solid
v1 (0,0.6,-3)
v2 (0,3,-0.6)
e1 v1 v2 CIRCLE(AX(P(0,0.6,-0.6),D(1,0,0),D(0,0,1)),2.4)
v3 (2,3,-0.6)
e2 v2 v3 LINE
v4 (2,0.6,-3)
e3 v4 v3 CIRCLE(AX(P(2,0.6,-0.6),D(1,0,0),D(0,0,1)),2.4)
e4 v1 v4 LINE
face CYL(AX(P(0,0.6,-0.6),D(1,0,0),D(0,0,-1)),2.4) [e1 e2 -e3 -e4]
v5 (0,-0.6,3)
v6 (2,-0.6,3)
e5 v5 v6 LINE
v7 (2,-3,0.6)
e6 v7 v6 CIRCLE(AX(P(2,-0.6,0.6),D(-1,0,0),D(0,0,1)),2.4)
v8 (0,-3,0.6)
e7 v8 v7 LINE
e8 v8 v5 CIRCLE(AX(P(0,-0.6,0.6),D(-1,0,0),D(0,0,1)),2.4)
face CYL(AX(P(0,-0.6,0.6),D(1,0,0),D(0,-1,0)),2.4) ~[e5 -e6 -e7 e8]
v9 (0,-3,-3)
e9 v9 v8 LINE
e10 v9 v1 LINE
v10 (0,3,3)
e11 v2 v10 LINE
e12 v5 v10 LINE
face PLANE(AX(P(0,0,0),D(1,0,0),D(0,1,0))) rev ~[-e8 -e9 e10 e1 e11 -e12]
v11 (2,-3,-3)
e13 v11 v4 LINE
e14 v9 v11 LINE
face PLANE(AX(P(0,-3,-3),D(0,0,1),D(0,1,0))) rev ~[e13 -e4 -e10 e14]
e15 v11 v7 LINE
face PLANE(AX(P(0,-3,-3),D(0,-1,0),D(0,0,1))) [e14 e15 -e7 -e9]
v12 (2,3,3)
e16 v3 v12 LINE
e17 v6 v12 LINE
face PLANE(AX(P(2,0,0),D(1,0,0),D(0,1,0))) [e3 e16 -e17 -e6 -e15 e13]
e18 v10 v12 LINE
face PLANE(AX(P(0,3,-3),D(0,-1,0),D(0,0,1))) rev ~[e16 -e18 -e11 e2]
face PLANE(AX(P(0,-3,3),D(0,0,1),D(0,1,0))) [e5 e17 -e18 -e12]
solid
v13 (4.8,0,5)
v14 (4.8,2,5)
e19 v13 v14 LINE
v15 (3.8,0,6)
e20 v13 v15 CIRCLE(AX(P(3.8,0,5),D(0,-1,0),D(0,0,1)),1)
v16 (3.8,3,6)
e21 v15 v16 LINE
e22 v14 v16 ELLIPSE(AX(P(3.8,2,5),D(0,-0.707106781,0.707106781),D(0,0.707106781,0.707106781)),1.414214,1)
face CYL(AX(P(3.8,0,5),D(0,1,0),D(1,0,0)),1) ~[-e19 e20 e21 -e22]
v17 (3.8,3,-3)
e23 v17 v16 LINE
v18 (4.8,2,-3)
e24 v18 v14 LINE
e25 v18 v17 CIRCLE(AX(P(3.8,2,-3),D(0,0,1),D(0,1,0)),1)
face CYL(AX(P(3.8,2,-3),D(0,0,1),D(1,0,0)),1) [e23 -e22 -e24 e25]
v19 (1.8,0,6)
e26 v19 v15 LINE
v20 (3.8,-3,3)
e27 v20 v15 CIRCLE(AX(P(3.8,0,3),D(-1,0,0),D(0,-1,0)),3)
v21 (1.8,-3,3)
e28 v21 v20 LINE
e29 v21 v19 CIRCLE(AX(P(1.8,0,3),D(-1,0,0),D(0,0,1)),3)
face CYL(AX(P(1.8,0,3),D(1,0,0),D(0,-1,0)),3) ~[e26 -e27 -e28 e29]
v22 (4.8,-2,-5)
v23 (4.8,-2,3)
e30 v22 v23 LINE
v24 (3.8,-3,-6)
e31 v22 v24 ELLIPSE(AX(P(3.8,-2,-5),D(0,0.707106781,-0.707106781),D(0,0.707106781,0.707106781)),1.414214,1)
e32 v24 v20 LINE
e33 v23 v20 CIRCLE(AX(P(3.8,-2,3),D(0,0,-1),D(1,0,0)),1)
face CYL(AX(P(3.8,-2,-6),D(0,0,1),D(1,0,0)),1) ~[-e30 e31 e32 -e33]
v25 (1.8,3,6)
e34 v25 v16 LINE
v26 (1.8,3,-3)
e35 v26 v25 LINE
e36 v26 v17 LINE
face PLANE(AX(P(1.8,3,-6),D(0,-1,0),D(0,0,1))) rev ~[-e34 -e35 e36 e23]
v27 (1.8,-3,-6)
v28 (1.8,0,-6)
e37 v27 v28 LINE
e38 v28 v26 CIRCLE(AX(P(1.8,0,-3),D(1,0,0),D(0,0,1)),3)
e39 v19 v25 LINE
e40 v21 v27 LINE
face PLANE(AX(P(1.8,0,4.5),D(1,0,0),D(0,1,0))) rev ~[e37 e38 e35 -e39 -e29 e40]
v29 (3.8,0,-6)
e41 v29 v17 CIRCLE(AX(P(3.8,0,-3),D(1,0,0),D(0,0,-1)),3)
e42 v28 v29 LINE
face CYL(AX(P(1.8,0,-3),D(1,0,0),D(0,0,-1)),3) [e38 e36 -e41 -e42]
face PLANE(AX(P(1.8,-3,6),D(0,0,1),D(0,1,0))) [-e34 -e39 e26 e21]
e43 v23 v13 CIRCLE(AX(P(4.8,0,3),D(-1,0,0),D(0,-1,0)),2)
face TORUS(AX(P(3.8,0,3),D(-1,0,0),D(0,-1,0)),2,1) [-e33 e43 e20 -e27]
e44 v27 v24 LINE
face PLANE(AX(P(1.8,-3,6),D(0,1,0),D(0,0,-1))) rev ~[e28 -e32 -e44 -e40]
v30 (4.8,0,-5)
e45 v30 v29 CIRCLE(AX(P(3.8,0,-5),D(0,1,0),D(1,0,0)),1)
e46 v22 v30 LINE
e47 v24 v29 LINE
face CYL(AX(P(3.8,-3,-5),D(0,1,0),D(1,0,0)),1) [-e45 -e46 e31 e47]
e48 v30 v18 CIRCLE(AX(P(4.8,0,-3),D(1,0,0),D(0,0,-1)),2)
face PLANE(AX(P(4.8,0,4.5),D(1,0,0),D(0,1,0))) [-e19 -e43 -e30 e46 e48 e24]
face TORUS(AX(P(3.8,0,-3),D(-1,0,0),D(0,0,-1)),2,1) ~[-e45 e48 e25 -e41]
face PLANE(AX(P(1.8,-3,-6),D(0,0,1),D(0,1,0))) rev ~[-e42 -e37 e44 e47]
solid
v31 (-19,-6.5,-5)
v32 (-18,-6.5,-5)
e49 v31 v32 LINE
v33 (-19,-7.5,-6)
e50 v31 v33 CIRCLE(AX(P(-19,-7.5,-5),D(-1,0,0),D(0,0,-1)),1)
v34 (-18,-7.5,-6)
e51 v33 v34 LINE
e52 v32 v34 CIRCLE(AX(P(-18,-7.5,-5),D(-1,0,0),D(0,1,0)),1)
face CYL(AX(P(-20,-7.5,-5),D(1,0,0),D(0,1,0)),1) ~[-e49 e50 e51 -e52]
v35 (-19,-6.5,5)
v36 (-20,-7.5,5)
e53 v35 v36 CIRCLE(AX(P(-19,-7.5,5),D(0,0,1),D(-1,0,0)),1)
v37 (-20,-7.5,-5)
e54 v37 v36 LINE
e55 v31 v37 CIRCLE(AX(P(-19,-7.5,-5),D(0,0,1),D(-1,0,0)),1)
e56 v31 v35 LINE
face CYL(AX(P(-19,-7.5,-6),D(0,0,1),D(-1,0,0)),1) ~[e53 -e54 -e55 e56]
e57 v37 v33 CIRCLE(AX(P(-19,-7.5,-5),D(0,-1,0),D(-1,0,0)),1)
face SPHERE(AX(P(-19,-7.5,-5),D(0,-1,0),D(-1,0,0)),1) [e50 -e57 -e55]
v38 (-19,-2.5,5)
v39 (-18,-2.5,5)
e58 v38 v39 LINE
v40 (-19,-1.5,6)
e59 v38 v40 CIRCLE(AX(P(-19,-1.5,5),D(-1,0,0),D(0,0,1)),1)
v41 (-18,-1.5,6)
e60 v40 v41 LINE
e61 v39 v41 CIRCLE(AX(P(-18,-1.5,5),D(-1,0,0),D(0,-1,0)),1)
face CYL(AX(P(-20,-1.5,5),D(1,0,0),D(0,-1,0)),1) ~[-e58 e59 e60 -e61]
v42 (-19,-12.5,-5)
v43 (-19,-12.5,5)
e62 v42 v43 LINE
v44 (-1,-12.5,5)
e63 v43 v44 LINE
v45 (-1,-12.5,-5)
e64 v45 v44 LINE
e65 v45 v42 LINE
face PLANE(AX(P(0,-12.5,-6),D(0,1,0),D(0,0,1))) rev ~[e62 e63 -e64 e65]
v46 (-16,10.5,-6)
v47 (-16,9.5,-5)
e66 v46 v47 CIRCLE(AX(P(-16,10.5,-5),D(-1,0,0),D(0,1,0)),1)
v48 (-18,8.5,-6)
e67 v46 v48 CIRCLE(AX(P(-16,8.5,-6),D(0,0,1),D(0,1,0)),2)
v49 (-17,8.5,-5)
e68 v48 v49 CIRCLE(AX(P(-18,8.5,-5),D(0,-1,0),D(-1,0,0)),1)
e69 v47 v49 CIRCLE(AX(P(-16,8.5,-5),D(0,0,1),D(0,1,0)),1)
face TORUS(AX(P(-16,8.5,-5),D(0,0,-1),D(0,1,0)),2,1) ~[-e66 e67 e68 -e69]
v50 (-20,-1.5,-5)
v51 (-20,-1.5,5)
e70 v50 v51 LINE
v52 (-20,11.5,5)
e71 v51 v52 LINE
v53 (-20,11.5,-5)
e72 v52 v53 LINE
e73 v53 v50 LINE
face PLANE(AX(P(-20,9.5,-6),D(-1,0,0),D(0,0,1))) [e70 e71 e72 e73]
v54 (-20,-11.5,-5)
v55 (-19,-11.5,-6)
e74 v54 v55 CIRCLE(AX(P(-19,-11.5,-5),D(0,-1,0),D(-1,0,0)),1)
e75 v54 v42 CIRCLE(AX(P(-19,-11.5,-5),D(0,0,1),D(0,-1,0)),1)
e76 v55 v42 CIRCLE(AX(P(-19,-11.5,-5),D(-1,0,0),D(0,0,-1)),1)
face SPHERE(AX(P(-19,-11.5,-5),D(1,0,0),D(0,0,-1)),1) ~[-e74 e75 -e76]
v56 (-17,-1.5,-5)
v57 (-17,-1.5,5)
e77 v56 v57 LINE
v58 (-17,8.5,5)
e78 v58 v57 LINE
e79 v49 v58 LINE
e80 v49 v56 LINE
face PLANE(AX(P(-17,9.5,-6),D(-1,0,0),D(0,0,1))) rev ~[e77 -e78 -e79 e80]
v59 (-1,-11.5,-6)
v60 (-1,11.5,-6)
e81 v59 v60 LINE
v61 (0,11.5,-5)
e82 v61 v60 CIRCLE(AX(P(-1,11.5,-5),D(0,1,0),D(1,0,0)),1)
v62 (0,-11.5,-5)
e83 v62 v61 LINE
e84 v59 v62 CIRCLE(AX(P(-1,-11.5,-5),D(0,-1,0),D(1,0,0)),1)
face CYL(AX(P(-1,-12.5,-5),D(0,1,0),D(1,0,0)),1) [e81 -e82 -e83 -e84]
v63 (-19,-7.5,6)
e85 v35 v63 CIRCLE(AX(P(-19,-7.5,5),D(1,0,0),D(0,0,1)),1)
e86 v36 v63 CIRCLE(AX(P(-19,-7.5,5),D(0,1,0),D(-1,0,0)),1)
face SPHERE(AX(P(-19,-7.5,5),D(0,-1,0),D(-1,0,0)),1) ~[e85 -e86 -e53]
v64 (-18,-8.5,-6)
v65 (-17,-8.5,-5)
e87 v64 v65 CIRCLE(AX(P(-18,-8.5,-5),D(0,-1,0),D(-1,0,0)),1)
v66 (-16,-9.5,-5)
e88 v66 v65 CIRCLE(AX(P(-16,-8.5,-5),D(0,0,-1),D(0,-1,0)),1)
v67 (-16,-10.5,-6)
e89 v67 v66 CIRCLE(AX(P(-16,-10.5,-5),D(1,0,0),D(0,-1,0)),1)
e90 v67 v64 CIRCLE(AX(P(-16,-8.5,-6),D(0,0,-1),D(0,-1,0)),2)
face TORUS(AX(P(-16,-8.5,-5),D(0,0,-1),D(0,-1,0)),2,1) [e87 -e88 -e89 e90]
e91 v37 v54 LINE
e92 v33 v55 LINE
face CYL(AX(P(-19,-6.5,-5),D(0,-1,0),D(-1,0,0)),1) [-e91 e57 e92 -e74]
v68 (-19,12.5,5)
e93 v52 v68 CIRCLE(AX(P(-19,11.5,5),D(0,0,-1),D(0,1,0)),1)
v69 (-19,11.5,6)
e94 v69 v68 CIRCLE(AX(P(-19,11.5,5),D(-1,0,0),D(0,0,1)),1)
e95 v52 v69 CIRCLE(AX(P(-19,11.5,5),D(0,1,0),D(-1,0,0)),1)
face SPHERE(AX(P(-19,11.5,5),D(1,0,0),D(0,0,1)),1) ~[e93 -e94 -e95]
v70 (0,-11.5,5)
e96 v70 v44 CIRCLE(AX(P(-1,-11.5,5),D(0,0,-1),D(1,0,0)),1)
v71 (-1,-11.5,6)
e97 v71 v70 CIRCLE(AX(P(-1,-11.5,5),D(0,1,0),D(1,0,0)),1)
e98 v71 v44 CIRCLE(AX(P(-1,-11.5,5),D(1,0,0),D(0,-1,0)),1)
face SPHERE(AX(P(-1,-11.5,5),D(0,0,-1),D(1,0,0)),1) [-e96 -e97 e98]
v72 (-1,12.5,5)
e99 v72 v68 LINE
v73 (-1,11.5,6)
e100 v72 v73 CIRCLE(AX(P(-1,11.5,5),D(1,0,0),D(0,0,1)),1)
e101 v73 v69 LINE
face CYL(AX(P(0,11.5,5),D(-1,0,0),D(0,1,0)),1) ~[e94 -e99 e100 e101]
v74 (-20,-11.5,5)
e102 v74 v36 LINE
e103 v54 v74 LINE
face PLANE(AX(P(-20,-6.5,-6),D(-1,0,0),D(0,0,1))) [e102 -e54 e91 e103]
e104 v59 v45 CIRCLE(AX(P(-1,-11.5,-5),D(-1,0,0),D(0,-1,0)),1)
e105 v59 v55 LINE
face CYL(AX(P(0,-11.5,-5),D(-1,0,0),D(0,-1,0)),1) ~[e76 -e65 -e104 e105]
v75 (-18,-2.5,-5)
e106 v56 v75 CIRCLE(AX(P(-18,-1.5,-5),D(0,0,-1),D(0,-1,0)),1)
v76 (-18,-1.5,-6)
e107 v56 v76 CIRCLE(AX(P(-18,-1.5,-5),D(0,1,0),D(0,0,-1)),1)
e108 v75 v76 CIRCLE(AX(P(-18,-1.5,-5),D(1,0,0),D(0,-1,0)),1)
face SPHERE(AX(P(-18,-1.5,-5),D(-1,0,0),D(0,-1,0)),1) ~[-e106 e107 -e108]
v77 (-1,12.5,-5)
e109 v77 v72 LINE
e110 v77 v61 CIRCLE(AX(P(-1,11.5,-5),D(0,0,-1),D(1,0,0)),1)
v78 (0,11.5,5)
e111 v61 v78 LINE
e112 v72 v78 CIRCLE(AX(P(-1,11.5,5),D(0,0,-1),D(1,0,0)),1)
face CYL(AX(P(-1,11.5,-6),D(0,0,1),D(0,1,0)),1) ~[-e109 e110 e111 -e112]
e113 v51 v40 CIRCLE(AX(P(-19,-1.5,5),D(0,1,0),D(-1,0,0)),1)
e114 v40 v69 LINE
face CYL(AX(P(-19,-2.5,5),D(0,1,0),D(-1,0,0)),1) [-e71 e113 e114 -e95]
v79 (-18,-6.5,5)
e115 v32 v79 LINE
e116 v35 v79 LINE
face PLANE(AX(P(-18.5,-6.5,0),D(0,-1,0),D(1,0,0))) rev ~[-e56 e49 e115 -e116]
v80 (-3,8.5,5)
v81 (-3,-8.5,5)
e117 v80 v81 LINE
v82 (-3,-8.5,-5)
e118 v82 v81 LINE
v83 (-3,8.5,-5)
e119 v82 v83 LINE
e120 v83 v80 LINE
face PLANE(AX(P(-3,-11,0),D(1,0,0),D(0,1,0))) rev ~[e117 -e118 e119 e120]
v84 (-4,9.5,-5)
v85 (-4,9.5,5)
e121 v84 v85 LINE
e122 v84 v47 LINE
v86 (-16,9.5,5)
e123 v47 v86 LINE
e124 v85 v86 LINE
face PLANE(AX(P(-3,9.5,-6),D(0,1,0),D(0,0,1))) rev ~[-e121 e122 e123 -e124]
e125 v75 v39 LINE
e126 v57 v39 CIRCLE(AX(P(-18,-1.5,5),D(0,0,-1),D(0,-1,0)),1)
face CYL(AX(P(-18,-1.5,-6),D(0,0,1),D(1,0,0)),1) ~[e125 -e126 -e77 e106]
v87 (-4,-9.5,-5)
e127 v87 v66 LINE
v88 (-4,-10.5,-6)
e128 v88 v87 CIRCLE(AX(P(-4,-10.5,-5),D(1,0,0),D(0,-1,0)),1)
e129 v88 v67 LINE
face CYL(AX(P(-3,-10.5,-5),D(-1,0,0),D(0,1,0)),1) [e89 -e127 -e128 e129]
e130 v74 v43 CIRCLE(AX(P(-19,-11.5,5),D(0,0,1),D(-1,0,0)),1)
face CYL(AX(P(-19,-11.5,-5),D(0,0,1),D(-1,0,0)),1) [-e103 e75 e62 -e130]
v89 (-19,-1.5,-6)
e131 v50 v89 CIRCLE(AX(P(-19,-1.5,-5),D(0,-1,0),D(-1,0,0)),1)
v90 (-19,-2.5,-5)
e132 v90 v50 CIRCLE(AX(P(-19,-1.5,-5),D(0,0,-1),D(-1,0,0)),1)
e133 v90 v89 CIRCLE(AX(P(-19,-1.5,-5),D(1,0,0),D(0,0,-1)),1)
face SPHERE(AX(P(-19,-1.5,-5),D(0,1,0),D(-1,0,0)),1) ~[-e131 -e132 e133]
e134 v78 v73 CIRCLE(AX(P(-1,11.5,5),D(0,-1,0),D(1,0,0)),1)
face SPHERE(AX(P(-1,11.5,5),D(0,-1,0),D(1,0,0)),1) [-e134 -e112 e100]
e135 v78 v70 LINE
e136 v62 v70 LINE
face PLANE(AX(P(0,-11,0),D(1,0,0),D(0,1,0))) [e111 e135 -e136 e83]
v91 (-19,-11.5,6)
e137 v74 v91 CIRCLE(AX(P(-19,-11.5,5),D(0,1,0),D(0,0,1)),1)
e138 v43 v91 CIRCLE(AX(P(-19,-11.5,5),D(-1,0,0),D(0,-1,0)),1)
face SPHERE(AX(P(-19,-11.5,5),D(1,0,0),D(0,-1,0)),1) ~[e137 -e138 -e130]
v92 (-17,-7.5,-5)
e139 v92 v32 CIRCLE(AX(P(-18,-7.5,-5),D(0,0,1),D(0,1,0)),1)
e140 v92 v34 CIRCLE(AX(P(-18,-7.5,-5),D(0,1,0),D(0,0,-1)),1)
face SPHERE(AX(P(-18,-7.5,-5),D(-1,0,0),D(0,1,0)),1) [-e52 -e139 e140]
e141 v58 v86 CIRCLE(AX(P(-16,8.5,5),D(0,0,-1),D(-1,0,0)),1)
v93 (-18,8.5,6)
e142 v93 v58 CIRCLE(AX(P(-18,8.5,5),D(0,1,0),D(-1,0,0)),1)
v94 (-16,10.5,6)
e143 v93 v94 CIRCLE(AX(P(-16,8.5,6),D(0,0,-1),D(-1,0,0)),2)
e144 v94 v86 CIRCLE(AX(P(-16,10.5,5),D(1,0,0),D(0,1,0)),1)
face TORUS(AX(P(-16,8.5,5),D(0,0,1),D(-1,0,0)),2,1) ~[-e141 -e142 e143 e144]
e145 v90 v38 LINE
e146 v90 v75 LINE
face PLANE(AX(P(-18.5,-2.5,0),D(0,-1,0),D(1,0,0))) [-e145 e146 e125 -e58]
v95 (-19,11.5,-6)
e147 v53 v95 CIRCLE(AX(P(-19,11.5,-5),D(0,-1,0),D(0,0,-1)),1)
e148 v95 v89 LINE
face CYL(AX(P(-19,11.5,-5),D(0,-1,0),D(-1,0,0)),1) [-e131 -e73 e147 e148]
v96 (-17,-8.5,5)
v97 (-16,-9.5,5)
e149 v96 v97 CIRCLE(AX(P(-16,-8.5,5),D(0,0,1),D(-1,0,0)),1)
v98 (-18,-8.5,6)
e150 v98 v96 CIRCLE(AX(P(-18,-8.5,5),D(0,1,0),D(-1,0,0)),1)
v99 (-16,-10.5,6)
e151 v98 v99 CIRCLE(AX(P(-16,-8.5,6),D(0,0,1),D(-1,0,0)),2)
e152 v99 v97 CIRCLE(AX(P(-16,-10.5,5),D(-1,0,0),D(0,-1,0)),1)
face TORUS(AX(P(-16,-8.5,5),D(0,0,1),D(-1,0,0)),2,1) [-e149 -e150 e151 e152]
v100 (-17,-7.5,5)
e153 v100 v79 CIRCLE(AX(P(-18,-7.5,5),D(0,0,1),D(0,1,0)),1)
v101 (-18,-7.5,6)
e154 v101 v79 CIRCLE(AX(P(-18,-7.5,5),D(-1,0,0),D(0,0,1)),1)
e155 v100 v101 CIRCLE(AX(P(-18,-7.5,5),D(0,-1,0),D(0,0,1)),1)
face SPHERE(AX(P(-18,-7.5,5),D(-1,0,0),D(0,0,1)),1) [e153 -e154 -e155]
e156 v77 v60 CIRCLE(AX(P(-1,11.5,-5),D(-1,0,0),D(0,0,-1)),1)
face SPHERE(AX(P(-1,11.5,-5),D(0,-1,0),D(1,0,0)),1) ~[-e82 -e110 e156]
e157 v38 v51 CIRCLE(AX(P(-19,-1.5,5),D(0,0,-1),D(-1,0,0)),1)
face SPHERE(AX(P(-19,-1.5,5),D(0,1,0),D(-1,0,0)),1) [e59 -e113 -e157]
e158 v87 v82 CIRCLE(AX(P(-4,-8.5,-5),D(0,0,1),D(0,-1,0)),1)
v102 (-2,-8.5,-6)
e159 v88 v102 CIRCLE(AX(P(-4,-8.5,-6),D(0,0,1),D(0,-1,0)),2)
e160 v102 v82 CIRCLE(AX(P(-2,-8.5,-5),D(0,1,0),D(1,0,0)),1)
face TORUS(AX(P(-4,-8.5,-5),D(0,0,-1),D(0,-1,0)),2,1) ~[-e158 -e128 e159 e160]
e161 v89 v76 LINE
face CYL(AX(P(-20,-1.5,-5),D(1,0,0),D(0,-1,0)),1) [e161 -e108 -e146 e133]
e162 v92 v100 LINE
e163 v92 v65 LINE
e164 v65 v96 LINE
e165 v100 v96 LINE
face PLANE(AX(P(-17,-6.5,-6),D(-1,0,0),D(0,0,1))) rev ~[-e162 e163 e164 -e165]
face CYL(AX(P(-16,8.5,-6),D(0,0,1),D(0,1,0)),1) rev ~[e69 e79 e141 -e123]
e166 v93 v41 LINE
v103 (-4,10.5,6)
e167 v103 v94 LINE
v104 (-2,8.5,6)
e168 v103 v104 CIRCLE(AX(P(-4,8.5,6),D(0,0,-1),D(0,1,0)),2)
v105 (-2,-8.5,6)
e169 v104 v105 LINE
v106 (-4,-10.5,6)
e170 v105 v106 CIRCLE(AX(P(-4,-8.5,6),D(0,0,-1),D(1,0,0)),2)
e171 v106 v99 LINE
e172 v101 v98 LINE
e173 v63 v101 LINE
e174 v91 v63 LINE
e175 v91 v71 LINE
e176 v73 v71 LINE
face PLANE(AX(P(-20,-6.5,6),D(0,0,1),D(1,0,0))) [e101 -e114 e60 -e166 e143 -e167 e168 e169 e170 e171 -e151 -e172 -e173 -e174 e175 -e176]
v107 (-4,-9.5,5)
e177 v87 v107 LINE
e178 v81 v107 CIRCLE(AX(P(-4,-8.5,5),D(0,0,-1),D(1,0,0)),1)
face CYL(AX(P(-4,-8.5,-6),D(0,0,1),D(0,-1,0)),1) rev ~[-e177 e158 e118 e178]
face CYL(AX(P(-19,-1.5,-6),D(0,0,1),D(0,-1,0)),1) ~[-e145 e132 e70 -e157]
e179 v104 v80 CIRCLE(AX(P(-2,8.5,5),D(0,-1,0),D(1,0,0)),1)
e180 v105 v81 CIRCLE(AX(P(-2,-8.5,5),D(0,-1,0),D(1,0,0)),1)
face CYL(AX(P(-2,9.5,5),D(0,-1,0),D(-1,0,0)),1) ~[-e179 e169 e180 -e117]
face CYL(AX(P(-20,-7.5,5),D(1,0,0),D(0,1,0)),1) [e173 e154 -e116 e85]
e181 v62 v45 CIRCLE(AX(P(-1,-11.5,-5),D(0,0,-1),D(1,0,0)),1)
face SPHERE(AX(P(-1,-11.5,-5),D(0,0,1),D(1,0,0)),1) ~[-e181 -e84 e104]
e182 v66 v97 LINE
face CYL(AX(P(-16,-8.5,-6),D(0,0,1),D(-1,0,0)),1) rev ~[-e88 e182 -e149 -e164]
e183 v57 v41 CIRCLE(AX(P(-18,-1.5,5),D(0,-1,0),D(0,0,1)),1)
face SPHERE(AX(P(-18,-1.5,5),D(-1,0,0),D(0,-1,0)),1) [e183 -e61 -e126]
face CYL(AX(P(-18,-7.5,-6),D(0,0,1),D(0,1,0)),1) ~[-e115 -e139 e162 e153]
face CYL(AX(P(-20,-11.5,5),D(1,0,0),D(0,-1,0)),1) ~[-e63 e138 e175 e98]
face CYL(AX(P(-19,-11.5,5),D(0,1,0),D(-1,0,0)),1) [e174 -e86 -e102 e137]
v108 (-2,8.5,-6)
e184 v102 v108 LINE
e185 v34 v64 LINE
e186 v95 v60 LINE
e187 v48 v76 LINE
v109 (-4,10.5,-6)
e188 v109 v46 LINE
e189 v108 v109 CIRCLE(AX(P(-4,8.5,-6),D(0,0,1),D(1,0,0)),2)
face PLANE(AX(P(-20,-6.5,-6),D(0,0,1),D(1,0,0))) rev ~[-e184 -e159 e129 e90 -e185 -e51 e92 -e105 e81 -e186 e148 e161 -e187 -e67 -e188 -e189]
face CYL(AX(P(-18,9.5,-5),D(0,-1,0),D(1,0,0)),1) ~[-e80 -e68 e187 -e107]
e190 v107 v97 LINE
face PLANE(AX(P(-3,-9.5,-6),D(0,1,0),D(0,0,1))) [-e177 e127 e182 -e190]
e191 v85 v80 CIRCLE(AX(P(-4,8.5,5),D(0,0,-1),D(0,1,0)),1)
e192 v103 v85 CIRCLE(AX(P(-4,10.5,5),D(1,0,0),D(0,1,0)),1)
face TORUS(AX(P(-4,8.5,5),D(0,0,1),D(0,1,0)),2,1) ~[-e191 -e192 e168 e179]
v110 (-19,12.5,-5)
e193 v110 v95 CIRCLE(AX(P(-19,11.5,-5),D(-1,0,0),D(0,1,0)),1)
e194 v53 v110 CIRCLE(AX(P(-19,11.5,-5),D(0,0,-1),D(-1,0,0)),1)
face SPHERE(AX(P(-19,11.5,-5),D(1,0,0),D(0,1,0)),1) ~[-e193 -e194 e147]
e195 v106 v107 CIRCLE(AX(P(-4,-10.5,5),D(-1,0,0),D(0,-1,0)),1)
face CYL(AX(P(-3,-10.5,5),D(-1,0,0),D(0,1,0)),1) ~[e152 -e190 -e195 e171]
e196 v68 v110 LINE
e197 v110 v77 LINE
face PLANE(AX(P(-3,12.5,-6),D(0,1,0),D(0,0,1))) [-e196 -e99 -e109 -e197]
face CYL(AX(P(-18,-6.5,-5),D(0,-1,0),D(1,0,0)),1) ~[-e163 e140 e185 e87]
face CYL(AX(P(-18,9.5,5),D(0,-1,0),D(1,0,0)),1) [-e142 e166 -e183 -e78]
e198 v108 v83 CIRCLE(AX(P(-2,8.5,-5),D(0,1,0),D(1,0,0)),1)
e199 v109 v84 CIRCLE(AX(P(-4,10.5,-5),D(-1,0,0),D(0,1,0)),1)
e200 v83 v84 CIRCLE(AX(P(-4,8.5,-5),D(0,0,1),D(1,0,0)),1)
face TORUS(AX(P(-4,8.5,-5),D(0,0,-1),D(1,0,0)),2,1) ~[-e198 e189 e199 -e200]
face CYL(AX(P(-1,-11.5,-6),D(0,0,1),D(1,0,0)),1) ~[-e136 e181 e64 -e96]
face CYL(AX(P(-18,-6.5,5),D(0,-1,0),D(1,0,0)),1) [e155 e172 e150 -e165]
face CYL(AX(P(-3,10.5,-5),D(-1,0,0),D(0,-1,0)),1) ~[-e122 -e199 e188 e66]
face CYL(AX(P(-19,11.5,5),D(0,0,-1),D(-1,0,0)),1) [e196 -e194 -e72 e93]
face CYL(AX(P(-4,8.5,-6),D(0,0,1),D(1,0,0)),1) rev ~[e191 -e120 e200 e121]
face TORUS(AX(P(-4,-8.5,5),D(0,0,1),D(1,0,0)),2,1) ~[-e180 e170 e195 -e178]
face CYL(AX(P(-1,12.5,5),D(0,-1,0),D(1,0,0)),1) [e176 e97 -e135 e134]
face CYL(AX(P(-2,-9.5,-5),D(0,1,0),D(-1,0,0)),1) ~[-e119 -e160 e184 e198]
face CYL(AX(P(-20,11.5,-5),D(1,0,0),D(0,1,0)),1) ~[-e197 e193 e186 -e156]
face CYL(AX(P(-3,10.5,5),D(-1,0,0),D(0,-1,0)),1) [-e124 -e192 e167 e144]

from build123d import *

# Parameters (mm, degrees)
F0_W       = 3
F0_H       = 12
F0_W_2     = 6
F0_H_2     = 3
F0_H_3     = 6
F1_DEPTH   = 3
F2_START   = 1.8
F2_DEPTH   = 3
F3_DEPTH   = 2
F4_START   = -3
F4_DEPTH   = 17
F5_R       = 3
F6_R       = 2.4
F7_R       = 1
F8_R       = 1
F9_W       = 3
F9_H       = 12
F10_DEPTH  = 12
F11_START  = 4
F10_FACE_W = 3
F10_FACE_H = 12
F11_DEPTH  = 3
F12_R      = 1


with BuildPart() as f1:
    # F0 (on Right) → F1 (new body)
    with BuildSketch(Plane.YZ):
        with Locations((-11, 0)):
            Rectangle(F0_W, F0_H)
        with Locations((0, 4.5)):
            Rectangle(F0_W_2, F0_H_2)
        with Locations((0, -4.5)):
            Rectangle(F0_W_2, F0_H_2)
        Rectangle(F0_W_2, F0_H_3)
        with Locations((11, 0)):
            Rectangle(F0_W, F0_H)
        Polygon((-3, -6), (-3, -3), (-3, 3), (-3, 6), (-9.5, 6), (-9.5, -6), align=None)
        Polygon((3, 3), (3, -3), (3, -6), (9.5, -6), (9.5, 6), (3, 6), align=None)
    extrude(amount=-F1_DEPTH)

    # F0 (on Right) → F4 (join)
    with BuildSketch(Plane.YZ.offset(F4_START)):
        with Locations((11, 0)):
            Rectangle(F0_W, F0_H)
        with Locations((-11, 0)):
            Rectangle(F0_W, F0_H)
    extrude(amount=-F4_DEPTH)

    # F8
    f8_edges = [f1.edges().sort_by_distance(p)[0] for p in [
        (0, -12.5, 0),
        (0, 0, 6),
        (0, 0, -6),
        (0, 12.5, 0),
        (-10, -12.5, -6),
        (-10, -12.5, 6),
        (-10, 12.5, 6),
        (-10, 12.5, -6),
    ]]
    fillet(f8_edges, radius=F8_R)

    # F9 (on face) → F10 (join)
    with BuildSketch(Plane.XZ.offset(-9.5)):
        with Locations((-18.5, 0)):
            Rectangle(F9_W, F9_H)
    extrude(amount=F10_DEPTH)

    # F10_face (on face) → F11 (join)
    with BuildSketch(Plane(origin=(-18.5, -2.5, 0), x_dir=(1, 0, 0), z_dir=(0, -1, 0)).offset(F11_START)):
        Rectangle(F10_FACE_W, F10_FACE_H)
    extrude(amount=F11_DEPTH)

    # F12
    f12_edges = [f1.edges().sort_by_distance(p)[0] for p in [
        (-20, -12.5, 0),
        (-20, -9, 6),
        (-20, -12.207107, 5.707107),
        (-20, -9, -6),
        (-20, -6.5, 0),
        (-20, -12.207107, -5.707107),
        (-20, 4.5, 6),
        (-20, -2.5, 0),
        (-18.5, -2.5, -6),
        (-18.5, -2.5, 6),
        (-17, -2.5, 0),
        (-18.5, -6.5, 6),
        (-17, -8, 6),
        (-17, 3.5, 6),
        (-10, 9.5, 6),
        (-3, 0, 6),
        (-10, -9.5, 6),
        (-20, 12.207107, -5.707107),
        (-20, 4.5, -6),
        (-20, 12.5, 0),
        (-20, 12.207107, 5.707107),
        (-18.5, -6.5, -6),
        (-17, -6.5, 0),
        (-10, -9.5, -6),
        (-17, -8, -6),
        (-3, 0, -6),
        (-10, 9.5, -6),
        (-17, 3.5, -6),
        (-17, -9.5, 0),
        (-17, 9.5, 0),
        (-3, 9.5, 0),
        (-3, -9.5, 0),
    ]]
    fillet(f12_edges, radius=F12_R)


with BuildPart() as f2:
    # F0 (on Right) → F2 (new body)
    with BuildSketch(Plane.YZ.offset(F2_START)):
        with Locations((0, 4.5)):
            Rectangle(F0_W_2, F0_H_2)
        Rectangle(F0_W_2, F0_H_3)
        with Locations((0, -4.5)):
            Rectangle(F0_W_2, F0_H_2)
    extrude(amount=F2_DEPTH)

    # F5
    f5_edges = [f2.edges().sort_by_distance(p)[0] for p in [
        (3.3, -3, 6),
        (3.3, 3, -6),
    ]]
    fillet(f5_edges, radius=F5_R)

    # F7
    f7_edges = [f2.edges().sort_by_distance(p)[0] for p in [
        (4.8, 3, 1.5),
        (4.8, 1.5, 6),
        (4.8, -3, -1.5),
        (4.8, -2.12132, 5.12132),
        (4.8, -1.5, -6),
        (4.8, 2.12132, -5.12132),
    ]]
    fillet(f7_edges, radius=F7_R)


with BuildPart() as f3:
    # F0 (on Right) → F3 (new body)
    with BuildSketch(Plane.YZ):
        Rectangle(F0_W_2, F0_H_3)
    extrude(amount=F3_DEPTH)

    # F6
    f6_edges = [f3.edges().sort_by_distance(p)[0] for p in [
        (1, 3, -3),
        (1, -3, 3),
    ]]
    fillet(f6_edges, radius=F6_R)


solid = Compound([f1.part, f2.part, f3.part])
